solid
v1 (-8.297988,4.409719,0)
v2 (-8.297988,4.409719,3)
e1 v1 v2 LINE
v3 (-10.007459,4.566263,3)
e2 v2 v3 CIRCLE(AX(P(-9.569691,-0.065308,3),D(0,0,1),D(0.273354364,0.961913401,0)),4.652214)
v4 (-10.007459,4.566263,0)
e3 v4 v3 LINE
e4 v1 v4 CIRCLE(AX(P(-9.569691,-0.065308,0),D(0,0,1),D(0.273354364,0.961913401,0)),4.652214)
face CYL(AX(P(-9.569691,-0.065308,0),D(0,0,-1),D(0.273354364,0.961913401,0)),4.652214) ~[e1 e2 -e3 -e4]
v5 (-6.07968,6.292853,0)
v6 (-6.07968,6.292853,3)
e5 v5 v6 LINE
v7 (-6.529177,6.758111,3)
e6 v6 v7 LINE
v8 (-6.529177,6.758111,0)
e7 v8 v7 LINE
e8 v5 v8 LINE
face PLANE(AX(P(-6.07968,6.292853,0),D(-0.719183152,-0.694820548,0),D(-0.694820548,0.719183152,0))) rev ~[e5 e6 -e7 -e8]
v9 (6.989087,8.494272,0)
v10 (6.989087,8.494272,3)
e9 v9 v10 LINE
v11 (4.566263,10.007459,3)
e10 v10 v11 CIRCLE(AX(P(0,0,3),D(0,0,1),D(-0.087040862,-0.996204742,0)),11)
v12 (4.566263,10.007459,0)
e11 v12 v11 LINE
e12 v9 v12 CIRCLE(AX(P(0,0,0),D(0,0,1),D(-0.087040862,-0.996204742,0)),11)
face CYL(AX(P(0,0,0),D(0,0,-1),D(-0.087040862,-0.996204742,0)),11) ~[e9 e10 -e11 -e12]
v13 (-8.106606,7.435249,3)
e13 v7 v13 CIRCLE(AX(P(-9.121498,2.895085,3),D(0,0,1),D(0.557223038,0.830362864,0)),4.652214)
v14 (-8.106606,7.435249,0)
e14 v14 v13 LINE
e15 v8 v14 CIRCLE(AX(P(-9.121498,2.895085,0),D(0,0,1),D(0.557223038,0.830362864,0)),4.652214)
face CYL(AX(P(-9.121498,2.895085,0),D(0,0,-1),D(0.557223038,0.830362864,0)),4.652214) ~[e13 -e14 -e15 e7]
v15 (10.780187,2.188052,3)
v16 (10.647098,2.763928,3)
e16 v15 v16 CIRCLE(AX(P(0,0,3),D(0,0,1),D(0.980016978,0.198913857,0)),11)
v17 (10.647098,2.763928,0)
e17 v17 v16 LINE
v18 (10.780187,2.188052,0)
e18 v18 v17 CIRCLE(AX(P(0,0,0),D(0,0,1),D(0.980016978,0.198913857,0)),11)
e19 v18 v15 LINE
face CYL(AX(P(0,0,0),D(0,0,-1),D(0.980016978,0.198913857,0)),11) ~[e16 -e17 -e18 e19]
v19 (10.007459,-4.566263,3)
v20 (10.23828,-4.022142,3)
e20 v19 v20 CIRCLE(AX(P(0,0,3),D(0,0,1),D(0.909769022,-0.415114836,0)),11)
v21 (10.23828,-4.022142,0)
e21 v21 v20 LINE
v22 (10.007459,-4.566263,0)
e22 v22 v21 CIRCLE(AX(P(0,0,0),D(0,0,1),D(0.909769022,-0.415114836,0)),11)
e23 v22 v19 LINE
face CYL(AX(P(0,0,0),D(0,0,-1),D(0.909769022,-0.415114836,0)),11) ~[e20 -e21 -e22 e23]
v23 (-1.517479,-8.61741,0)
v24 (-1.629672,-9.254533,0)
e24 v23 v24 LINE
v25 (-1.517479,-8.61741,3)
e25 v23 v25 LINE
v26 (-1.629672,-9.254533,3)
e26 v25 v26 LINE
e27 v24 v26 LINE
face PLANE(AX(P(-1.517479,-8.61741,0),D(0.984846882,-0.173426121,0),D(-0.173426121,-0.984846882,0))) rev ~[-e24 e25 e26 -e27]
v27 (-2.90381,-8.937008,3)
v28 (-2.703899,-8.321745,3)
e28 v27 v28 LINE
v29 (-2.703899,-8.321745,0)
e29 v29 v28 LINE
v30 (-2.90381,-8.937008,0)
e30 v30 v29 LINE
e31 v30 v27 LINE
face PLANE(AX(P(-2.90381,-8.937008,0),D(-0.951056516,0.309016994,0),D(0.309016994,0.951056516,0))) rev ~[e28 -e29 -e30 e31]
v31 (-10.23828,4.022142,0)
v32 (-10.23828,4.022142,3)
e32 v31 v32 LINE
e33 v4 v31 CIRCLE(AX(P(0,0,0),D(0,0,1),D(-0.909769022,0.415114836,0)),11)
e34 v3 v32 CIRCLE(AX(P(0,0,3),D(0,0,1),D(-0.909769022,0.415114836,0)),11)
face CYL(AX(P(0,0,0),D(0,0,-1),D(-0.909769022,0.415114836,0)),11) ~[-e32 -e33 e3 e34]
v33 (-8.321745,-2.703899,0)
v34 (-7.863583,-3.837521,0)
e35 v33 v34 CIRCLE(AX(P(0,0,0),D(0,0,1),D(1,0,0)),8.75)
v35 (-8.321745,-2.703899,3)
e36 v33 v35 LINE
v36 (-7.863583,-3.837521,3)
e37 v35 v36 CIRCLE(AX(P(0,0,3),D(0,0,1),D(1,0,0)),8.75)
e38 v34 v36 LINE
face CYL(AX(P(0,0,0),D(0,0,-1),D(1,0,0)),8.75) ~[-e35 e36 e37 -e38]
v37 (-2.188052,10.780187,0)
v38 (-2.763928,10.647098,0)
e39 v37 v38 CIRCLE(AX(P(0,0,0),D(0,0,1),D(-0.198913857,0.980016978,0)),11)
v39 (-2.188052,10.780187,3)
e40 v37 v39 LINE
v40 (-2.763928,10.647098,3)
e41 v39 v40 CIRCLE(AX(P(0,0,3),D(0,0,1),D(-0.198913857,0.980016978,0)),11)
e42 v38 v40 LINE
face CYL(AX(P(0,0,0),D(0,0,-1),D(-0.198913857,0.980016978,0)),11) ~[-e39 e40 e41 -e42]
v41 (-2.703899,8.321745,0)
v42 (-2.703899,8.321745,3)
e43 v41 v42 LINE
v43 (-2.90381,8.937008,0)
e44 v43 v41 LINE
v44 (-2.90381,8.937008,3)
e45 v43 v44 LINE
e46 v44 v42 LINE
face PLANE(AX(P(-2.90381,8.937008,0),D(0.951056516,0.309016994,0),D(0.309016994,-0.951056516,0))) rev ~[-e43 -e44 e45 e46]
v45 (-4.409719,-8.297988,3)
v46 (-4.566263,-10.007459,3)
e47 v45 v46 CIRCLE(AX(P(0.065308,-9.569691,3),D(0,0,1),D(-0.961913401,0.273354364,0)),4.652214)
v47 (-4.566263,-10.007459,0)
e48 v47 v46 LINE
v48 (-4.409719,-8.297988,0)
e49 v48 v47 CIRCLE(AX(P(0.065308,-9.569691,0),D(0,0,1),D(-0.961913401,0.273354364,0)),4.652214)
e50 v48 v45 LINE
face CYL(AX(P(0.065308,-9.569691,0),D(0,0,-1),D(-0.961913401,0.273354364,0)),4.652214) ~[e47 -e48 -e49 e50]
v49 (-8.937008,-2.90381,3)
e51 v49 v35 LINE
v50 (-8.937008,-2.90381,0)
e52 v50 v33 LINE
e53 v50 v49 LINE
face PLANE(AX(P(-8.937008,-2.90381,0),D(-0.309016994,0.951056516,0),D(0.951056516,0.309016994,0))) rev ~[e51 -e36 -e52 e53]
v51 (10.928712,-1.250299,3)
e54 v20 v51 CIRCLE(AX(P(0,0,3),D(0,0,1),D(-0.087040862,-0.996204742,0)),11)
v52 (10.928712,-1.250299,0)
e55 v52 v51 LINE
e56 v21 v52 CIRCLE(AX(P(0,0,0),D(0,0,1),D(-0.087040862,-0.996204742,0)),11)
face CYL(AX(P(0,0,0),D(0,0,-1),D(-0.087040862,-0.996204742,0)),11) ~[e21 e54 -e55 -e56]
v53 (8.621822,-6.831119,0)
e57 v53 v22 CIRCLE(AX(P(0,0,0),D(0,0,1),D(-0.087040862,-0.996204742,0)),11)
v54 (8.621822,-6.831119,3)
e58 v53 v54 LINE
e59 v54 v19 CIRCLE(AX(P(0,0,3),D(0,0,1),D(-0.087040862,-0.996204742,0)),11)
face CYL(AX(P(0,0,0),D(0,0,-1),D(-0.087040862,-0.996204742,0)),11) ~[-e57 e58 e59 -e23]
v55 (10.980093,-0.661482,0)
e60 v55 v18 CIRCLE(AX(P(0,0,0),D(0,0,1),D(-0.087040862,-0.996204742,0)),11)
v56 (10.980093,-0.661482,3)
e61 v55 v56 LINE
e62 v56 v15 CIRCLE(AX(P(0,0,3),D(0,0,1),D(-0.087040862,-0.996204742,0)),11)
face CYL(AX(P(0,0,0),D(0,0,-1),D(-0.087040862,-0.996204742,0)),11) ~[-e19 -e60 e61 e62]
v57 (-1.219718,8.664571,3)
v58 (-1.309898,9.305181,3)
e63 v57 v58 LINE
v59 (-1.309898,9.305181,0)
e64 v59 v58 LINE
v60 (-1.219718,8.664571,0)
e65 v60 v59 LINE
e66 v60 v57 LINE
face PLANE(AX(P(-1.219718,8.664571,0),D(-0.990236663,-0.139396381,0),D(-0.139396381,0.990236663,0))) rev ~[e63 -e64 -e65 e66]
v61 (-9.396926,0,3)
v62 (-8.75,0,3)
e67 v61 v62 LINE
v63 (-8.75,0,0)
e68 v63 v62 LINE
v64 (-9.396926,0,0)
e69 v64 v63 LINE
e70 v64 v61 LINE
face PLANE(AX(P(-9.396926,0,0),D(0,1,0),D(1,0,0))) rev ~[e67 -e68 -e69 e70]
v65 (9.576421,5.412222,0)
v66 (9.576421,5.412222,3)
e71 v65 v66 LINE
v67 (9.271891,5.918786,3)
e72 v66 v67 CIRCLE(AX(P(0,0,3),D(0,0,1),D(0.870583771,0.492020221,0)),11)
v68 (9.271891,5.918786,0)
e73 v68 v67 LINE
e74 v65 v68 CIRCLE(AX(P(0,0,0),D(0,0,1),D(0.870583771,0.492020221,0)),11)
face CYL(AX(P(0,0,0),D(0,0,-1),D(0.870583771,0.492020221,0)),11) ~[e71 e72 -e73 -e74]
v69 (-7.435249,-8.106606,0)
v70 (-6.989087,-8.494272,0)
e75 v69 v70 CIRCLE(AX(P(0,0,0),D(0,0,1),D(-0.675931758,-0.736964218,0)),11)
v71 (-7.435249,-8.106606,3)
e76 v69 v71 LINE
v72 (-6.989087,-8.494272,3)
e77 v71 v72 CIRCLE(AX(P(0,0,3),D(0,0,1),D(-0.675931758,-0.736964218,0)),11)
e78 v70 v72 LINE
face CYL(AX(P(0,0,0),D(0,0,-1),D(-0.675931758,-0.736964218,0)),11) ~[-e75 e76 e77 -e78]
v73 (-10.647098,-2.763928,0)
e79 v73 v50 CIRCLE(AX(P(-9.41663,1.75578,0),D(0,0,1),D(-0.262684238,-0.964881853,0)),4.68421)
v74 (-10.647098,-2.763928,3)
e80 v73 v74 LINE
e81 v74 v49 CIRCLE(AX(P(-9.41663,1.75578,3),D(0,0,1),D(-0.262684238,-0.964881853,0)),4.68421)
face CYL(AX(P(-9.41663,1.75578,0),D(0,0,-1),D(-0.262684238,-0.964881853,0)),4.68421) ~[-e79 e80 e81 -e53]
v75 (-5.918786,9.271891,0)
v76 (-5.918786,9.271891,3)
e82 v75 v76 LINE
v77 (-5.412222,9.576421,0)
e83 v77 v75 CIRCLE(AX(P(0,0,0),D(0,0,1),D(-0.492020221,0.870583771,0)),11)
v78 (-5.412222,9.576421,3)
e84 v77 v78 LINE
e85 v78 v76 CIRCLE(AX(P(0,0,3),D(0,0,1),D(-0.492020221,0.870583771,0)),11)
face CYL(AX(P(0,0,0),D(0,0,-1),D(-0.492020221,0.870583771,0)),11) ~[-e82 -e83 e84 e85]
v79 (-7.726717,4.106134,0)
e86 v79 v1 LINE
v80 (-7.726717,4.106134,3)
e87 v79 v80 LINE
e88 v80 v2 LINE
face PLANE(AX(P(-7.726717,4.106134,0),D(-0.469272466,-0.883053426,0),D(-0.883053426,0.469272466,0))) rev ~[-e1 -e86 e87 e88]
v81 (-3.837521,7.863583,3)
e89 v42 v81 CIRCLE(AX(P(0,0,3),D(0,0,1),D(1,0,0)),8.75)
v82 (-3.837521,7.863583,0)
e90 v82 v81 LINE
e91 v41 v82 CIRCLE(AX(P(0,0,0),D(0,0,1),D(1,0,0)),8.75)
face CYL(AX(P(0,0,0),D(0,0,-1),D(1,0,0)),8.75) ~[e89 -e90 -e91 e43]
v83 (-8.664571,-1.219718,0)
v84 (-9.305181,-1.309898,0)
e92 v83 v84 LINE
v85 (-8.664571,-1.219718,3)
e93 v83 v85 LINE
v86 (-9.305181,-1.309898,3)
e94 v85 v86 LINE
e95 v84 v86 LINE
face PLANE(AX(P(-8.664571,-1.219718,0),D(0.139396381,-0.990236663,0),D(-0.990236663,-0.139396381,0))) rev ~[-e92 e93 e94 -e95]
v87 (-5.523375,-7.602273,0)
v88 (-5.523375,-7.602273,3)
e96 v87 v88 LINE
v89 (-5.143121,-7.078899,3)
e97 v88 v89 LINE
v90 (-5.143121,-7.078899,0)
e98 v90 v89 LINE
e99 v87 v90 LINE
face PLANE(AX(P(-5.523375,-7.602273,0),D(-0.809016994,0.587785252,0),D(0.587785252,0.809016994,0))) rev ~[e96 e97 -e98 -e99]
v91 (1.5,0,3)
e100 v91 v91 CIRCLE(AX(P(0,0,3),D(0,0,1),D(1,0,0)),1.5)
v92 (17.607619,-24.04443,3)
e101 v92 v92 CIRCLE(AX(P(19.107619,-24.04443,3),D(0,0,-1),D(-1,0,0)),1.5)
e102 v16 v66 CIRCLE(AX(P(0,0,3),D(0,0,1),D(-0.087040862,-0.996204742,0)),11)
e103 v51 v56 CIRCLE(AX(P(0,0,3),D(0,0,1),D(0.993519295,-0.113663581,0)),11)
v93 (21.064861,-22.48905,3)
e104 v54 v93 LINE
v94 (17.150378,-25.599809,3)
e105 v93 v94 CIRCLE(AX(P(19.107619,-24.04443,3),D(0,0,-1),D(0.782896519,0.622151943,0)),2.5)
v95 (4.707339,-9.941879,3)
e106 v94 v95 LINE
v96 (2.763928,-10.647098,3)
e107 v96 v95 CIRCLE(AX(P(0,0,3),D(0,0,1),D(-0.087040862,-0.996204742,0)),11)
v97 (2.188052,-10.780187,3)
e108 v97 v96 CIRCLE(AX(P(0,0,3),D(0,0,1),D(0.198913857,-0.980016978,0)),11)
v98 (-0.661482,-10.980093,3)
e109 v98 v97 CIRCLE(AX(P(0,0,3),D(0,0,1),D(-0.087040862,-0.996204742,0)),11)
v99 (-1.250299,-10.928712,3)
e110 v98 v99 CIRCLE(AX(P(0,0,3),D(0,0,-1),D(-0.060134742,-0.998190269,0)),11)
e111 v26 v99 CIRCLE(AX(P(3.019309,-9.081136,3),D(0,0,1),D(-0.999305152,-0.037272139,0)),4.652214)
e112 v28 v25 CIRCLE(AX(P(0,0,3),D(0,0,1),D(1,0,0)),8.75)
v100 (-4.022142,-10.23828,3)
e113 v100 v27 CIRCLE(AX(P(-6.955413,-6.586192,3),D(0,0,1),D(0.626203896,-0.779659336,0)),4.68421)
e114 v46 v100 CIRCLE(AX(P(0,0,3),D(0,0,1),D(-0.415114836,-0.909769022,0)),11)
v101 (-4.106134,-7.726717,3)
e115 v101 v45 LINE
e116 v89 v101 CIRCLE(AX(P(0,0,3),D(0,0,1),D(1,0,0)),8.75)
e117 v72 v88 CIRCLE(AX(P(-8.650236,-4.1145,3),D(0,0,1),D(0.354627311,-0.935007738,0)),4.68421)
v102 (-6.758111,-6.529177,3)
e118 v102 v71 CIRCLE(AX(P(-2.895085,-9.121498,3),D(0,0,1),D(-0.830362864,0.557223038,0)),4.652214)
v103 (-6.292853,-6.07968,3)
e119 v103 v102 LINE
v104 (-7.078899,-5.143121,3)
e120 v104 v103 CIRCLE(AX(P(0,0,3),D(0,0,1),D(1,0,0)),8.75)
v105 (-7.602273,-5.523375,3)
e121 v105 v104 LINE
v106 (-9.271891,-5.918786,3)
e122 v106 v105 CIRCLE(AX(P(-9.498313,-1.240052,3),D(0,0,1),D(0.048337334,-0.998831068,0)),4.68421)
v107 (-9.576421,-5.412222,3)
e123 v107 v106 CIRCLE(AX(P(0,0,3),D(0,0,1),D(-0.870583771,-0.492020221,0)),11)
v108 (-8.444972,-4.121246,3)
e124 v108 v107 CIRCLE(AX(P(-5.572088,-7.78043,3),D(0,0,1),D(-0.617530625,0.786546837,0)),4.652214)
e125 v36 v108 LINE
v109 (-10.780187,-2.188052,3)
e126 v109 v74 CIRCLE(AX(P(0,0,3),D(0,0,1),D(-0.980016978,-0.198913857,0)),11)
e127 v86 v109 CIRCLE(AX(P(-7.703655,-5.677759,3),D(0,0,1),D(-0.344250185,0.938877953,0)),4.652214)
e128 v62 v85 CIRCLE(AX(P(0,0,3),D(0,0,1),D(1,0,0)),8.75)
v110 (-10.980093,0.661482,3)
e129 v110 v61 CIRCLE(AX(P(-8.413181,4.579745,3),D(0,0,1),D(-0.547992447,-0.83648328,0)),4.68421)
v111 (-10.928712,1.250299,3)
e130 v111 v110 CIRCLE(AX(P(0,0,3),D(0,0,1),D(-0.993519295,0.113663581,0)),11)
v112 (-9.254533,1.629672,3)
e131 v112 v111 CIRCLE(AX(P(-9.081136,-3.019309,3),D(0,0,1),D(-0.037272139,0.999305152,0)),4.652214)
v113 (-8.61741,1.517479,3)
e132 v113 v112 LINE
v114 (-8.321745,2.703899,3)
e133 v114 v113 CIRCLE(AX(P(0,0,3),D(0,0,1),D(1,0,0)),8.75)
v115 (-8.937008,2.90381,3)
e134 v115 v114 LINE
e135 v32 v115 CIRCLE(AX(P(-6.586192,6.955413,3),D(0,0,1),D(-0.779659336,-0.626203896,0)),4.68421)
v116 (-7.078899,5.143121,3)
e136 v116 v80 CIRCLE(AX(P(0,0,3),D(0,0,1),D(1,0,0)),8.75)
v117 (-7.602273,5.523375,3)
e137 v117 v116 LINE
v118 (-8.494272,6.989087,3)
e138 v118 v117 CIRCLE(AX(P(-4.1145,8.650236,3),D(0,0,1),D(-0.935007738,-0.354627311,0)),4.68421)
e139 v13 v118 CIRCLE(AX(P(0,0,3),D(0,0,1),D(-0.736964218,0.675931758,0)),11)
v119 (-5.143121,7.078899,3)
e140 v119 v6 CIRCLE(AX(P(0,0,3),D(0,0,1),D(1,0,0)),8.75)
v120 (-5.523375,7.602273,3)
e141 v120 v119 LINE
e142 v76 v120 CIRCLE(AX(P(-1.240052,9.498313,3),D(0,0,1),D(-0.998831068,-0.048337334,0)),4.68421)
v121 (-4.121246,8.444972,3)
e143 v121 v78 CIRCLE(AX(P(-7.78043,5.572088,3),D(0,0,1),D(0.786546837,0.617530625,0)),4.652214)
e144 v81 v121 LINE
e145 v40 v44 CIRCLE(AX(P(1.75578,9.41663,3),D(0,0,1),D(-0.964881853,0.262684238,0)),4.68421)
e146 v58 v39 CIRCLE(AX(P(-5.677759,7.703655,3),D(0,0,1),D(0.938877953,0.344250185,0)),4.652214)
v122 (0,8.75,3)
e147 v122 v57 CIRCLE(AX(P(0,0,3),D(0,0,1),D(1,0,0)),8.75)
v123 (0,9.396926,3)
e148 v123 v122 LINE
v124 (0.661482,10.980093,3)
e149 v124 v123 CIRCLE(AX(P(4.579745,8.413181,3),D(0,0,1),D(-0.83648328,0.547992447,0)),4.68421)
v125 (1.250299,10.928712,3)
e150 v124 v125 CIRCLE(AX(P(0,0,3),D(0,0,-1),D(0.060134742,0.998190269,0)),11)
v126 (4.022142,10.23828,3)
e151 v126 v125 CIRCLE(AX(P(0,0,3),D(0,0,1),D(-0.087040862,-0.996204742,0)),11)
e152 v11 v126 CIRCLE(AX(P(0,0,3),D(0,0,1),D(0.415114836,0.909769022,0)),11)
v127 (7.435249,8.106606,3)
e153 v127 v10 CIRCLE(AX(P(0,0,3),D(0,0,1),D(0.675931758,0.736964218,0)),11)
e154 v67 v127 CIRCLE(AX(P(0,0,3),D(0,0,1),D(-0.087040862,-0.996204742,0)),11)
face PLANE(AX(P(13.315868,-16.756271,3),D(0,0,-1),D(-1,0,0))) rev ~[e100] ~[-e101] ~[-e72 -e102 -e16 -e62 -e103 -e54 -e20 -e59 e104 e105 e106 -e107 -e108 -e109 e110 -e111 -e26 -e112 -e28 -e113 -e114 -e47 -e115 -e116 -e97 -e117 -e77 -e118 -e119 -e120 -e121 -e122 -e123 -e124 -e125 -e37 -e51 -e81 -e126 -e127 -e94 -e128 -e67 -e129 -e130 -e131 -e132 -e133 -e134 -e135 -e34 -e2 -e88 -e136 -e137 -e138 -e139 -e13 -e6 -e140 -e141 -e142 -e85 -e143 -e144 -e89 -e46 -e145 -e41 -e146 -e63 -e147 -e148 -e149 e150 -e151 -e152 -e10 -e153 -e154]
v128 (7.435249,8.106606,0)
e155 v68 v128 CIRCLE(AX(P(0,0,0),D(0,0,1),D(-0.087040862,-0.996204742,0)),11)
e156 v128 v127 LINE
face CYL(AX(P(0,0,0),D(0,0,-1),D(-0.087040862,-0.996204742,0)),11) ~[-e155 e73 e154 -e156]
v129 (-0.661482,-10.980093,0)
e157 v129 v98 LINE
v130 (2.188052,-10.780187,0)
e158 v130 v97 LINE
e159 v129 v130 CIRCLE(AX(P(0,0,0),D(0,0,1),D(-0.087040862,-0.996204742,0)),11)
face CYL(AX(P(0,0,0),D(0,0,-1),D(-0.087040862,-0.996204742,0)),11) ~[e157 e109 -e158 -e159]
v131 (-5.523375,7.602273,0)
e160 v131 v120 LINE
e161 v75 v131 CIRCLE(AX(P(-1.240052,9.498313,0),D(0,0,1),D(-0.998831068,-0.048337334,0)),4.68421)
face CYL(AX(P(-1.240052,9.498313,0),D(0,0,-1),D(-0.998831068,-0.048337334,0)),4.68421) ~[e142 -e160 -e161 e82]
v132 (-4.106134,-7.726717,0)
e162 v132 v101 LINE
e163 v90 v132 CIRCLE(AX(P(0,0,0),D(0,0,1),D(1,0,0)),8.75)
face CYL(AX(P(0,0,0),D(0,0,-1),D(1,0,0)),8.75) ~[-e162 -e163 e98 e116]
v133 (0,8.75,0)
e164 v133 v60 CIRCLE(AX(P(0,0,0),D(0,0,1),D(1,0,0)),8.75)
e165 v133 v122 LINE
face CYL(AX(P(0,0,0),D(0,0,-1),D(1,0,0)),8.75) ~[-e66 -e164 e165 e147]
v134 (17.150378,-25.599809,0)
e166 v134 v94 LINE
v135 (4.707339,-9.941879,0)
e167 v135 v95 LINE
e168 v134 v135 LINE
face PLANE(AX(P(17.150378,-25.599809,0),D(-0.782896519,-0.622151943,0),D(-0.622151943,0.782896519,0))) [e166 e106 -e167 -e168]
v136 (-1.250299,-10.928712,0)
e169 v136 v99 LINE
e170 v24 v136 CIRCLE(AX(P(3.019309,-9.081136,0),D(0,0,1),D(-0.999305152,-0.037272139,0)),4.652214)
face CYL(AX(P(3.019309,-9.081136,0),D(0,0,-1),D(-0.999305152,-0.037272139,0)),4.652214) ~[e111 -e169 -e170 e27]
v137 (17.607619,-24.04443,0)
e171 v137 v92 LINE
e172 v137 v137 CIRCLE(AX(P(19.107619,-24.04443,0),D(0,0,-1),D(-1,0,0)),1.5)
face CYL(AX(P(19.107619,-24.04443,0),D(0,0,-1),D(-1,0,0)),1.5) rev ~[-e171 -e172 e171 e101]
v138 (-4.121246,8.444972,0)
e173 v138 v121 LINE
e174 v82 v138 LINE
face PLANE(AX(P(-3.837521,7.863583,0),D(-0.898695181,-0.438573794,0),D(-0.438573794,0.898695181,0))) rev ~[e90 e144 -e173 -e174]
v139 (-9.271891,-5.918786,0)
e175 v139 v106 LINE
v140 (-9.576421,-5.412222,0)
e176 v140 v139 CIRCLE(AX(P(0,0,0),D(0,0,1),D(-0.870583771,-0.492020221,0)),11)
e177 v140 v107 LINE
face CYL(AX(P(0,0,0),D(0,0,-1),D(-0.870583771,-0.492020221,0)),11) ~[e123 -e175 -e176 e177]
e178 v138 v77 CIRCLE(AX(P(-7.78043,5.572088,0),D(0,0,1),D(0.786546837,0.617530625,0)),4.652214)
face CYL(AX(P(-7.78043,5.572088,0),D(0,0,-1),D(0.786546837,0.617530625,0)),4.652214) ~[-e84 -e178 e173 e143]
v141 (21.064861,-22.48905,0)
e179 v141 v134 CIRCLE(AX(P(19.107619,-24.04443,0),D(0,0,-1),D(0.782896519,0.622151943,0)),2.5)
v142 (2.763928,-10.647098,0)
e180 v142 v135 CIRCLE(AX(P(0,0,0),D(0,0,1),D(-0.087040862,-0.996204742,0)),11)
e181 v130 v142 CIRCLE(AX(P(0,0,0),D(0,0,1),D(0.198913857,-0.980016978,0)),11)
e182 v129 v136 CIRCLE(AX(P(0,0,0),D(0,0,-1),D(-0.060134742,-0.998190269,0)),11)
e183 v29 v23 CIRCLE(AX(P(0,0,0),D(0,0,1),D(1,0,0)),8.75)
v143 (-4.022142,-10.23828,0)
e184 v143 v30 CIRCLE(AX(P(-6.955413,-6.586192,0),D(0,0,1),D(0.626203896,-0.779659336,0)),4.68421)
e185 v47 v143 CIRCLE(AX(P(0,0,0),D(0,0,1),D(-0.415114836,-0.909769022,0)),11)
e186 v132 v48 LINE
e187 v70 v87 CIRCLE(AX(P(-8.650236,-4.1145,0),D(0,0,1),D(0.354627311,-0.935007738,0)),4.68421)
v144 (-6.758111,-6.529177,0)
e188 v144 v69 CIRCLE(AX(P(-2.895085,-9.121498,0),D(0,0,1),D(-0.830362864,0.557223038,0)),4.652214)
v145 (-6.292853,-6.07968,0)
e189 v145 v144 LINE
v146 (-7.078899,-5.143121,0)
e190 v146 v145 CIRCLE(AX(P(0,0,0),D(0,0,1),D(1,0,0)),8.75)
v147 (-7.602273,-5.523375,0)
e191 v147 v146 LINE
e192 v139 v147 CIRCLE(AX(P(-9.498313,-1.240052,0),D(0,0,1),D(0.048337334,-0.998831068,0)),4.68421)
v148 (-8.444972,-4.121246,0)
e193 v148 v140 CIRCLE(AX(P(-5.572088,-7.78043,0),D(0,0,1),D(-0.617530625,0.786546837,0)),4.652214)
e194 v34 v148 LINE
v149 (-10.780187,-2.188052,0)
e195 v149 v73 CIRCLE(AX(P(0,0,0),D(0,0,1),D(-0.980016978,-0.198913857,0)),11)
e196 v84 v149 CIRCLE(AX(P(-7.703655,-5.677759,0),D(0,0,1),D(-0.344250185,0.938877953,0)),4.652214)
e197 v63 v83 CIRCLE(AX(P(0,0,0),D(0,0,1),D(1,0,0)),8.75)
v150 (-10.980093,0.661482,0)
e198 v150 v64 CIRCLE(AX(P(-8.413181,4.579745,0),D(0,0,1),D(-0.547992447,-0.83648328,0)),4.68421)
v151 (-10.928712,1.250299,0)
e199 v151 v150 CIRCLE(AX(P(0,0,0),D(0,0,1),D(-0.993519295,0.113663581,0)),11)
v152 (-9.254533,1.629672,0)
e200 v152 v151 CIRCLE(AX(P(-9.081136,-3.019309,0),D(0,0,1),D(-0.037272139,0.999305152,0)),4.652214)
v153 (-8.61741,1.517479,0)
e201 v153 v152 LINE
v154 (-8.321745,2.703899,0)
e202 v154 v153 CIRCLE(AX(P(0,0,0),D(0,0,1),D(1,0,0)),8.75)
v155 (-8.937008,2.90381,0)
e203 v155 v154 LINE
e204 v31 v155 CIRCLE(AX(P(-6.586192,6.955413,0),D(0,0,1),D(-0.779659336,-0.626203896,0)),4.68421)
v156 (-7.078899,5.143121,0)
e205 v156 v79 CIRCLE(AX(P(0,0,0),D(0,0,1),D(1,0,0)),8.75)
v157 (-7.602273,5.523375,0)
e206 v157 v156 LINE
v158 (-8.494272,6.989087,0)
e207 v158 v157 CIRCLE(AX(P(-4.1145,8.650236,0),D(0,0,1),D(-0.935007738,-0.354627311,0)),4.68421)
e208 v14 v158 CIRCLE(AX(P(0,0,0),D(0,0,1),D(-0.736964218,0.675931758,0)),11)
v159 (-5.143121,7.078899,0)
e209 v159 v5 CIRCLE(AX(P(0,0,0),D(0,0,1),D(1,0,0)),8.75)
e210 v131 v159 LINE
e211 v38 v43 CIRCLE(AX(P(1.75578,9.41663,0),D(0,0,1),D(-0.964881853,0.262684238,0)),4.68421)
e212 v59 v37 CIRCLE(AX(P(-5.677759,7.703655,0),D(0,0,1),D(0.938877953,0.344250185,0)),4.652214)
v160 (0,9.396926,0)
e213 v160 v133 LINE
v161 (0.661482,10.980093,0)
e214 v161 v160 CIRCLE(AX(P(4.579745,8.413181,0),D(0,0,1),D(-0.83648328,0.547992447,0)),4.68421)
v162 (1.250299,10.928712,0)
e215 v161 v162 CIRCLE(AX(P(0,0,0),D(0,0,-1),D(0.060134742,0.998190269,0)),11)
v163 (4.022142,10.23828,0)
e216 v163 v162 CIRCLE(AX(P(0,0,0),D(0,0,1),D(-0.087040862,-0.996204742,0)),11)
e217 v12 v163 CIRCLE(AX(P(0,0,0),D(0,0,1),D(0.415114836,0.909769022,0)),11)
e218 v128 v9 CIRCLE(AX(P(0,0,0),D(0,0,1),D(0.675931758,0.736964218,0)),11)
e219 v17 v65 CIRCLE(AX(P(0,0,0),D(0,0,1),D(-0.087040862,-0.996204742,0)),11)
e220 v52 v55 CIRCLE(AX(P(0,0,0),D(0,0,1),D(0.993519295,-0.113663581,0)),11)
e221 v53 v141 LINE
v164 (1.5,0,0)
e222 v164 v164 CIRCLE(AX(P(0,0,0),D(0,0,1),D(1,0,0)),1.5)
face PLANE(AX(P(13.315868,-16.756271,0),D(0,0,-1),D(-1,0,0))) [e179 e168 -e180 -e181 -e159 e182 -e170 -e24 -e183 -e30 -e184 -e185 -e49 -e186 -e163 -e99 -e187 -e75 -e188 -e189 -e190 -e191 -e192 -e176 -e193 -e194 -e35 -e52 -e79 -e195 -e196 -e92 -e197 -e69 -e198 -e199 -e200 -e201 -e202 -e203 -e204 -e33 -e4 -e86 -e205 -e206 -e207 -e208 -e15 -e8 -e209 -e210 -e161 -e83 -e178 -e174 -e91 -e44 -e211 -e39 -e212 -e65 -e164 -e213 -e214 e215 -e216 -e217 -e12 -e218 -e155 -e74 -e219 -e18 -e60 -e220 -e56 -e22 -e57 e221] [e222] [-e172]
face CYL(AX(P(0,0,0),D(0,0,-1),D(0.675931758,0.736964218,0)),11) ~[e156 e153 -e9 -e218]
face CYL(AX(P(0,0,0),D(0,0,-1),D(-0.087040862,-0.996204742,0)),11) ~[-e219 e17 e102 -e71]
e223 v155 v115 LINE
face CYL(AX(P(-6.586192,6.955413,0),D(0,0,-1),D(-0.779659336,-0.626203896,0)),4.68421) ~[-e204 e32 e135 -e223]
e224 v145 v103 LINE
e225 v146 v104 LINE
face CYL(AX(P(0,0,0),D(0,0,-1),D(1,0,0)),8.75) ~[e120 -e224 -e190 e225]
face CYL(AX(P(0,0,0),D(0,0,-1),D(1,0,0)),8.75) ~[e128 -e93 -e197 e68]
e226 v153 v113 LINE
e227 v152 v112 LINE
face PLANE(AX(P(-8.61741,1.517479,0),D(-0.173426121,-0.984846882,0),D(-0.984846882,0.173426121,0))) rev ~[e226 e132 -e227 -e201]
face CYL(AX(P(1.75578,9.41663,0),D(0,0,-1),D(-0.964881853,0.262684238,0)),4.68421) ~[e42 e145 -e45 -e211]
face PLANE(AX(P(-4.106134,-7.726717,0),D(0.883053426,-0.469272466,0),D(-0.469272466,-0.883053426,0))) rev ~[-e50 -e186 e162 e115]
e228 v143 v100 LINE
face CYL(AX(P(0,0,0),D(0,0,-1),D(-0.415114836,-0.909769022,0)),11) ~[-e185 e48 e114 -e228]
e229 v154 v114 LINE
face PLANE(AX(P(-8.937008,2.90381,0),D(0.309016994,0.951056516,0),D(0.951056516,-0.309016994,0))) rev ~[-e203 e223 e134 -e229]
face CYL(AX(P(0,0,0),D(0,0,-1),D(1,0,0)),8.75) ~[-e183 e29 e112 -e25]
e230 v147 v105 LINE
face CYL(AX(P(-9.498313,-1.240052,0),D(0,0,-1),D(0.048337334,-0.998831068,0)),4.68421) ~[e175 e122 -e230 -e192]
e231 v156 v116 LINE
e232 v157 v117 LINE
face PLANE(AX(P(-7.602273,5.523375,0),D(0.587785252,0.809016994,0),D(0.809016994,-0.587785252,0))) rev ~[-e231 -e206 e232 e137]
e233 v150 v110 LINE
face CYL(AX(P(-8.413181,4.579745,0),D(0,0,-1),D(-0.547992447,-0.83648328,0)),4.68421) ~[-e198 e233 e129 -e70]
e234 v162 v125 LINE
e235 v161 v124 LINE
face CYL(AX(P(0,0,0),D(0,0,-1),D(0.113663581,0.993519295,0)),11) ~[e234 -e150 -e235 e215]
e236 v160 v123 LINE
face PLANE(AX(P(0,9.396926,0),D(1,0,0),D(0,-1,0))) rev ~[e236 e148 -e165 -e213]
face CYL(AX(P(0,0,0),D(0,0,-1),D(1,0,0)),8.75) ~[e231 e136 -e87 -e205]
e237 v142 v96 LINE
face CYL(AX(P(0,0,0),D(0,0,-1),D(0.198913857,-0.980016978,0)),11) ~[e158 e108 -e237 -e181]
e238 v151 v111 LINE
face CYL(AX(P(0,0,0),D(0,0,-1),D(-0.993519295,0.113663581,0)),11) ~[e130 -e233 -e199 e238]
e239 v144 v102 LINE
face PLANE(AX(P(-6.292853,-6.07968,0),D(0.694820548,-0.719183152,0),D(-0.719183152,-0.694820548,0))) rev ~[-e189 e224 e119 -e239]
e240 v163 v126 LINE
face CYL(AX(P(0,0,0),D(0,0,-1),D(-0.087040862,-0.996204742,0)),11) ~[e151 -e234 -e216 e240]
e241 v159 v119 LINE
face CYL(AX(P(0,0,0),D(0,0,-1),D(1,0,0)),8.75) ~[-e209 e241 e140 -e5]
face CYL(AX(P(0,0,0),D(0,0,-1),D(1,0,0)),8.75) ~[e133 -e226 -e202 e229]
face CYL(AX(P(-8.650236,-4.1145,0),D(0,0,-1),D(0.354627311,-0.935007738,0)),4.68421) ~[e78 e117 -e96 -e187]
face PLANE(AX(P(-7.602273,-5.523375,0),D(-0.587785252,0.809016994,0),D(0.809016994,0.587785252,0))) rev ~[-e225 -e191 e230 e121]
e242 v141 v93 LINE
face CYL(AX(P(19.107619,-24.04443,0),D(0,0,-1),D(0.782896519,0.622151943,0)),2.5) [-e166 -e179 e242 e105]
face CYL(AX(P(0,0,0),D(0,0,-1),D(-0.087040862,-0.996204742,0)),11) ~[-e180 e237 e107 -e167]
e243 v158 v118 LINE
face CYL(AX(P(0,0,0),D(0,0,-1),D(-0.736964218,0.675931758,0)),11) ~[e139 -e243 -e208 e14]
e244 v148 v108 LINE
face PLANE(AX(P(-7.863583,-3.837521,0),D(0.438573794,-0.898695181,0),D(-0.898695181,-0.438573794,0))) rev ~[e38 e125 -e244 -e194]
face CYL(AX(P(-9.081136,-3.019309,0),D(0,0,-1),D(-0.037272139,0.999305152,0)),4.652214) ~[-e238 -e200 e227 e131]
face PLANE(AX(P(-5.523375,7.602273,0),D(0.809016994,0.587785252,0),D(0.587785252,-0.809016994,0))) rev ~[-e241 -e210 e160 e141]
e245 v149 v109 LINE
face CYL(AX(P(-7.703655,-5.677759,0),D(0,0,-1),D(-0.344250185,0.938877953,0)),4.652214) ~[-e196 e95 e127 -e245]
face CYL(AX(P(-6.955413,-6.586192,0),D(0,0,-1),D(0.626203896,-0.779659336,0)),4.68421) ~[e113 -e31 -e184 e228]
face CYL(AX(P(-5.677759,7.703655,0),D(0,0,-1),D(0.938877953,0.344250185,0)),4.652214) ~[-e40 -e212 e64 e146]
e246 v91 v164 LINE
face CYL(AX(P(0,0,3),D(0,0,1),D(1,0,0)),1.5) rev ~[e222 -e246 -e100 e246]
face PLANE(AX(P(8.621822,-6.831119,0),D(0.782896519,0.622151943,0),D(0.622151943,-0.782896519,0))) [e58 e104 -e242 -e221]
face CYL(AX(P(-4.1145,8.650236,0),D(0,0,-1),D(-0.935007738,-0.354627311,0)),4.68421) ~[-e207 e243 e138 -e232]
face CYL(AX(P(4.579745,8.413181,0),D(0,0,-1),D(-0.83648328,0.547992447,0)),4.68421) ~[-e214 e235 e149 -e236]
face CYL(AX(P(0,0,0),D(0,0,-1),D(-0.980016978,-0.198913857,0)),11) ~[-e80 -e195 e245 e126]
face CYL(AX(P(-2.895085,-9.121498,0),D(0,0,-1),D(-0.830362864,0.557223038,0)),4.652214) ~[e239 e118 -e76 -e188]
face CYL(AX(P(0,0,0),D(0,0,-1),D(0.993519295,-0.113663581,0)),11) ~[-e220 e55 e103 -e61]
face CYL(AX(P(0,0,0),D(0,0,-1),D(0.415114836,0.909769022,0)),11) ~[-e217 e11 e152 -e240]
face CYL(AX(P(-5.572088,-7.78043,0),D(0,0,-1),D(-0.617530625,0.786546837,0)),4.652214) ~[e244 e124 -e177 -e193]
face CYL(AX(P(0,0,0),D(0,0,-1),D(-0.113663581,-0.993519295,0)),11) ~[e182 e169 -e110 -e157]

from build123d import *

# Parameters (mm, degrees)
EXTRUSION_DENTS_DEPTH        = 3
R_P_TITION_CIRCULAIRE2_COUNT = 20
ESQUISSE1_R                  = 8.75
EXTRUSION_DISQUE_DEPTH       = 3
BOSS_EXTRU_1_DEPTH           = 3
ESQUISSE6_R                  = 1.5
BOSS_EXTRU_2_DEPTH           = 3
ESQUISSE3_R                  = 1.5
ENL_V_MAT_EXTRU_1_DEPTH      = 35.358346143


with BuildPart() as part:
    # Esquisse2 → Extrusion dents (new body)
    with BuildSketch(Plane.XY):
        with BuildLine():
            Line((0, 9.396926208), (0, 8.75))
            ThreePointArc((0, 8.75), (0.761630034, 8.716789529), (1.517478561, 8.617410215))
            Line((1.517478561, 8.617410215), (1.629672464, 9.254533474))
            ThreePointArc((1.629672464, 9.254533474), (1.517874028, 10.109272502), (1.250299377, 10.928712251))
            ThreePointArc((1.250299377, 10.928712251), (0.956235935, 10.958358127), (0.661482168, 10.980092957))
            ThreePointArc((0.661482168, 10.980092957), (0.25763458, 10.219055101), (0, 9.396926208))
        make_face()
    extrude(amount=EXTRUSION_DENTS_DEPTH)


with BuildPart() as r_p_tition_circulaire2_1:
    # Répétition circulaire2: pattern copy
    add(part.part.rotate(Axis((0, 0, 0), (0, 0, 1)), 1 * 360 / R_P_TITION_CIRCULAIRE2_COUNT))


with BuildPart() as r_p_tition_circulaire2_2:
    # Répétition circulaire2: pattern copy
    add(part.part.rotate(Axis((0, 0, 0), (0, 0, 1)), 2 * 360 / R_P_TITION_CIRCULAIRE2_COUNT))


with BuildPart() as r_p_tition_circulaire2_3:
    # Répétition circulaire2: pattern copy
    add(part.part.rotate(Axis((0, 0, 0), (0, 0, 1)), 3 * 360 / R_P_TITION_CIRCULAIRE2_COUNT))


with BuildPart() as r_p_tition_circulaire2_4:
    # Répétition circulaire2: pattern copy
    add(part.part.rotate(Axis((0, 0, 0), (0, 0, 1)), 4 * 360 / R_P_TITION_CIRCULAIRE2_COUNT))


with BuildPart() as r_p_tition_circulaire2_5:
    # Répétition circulaire2: pattern copy
    add(part.part.rotate(Axis((0, 0, 0), (0, 0, 1)), 5 * 360 / R_P_TITION_CIRCULAIRE2_COUNT))


with BuildPart() as r_p_tition_circulaire2_6:
    # Répétition circulaire2: pattern copy
    add(part.part.rotate(Axis((0, 0, 0), (0, 0, 1)), 6 * 360 / R_P_TITION_CIRCULAIRE2_COUNT))


with BuildPart() as r_p_tition_circulaire2_7:
    # Répétition circulaire2: pattern copy
    add(part.part.rotate(Axis((0, 0, 0), (0, 0, 1)), 7 * 360 / R_P_TITION_CIRCULAIRE2_COUNT))


with BuildPart() as r_p_tition_circulaire2_8:
    # Répétition circulaire2: pattern copy
    add(part.part.rotate(Axis((0, 0, 0), (0, 0, 1)), 8 * 360 / R_P_TITION_CIRCULAIRE2_COUNT))


with BuildPart() as r_p_tition_circulaire2_9:
    # Répétition circulaire2: pattern copy
    add(part.part.rotate(Axis((0, 0, 0), (0, 0, 1)), 9 * 360 / R_P_TITION_CIRCULAIRE2_COUNT))


with BuildPart() as r_p_tition_circulaire2_10:
    # Répétition circulaire2: pattern copy
    add(part.part.rotate(Axis((0, 0, 0), (0, 0, 1)), 10 * 360 / R_P_TITION_CIRCULAIRE2_COUNT))


with BuildPart() as r_p_tition_circulaire2_11:
    # Répétition circulaire2: pattern copy
    add(part.part.rotate(Axis((0, 0, 0), (0, 0, 1)), 11 * 360 / R_P_TITION_CIRCULAIRE2_COUNT))


with BuildPart() as r_p_tition_circulaire2_12:
    # Répétition circulaire2: pattern copy
    add(part.part.rotate(Axis((0, 0, 0), (0, 0, 1)), 12 * 360 / R_P_TITION_CIRCULAIRE2_COUNT))


with BuildPart() as r_p_tition_circulaire2_13:
    # Répétition circulaire2: pattern copy
    add(part.part.rotate(Axis((0, 0, 0), (0, 0, 1)), 13 * 360 / R_P_TITION_CIRCULAIRE2_COUNT))


with BuildPart() as r_p_tition_circulaire2_14:
    # Répétition circulaire2: pattern copy
    add(part.part.rotate(Axis((0, 0, 0), (0, 0, 1)), 14 * 360 / R_P_TITION_CIRCULAIRE2_COUNT))


with BuildPart() as r_p_tition_circulaire2_15:
    # Répétition circulaire2: pattern copy
    add(part.part.rotate(Axis((0, 0, 0), (0, 0, 1)), 15 * 360 / R_P_TITION_CIRCULAIRE2_COUNT))


with BuildPart() as r_p_tition_circulaire2_16:
    # Répétition circulaire2: pattern copy
    add(part.part.rotate(Axis((0, 0, 0), (0, 0, 1)), 16 * 360 / R_P_TITION_CIRCULAIRE2_COUNT))


with BuildPart() as r_p_tition_circulaire2_17:
    # Répétition circulaire2: pattern copy
    add(part.part.rotate(Axis((0, 0, 0), (0, 0, 1)), 17 * 360 / R_P_TITION_CIRCULAIRE2_COUNT))


with BuildPart() as r_p_tition_circulaire2_18:
    # Répétition circulaire2: pattern copy
    add(part.part.rotate(Axis((0, 0, 0), (0, 0, 1)), 18 * 360 / R_P_TITION_CIRCULAIRE2_COUNT))


with BuildPart() as r_p_tition_circulaire2_19:
    # Répétition circulaire2: pattern copy
    add(part.part.rotate(Axis((0, 0, 0), (0, 0, 1)), 19 * 360 / R_P_TITION_CIRCULAIRE2_COUNT))


with BuildPart() as part_1:
    add(part.part)

    add(r_p_tition_circulaire2_1.part)  # Extrusion disque merges Répétition circulaire2_1

    add(r_p_tition_circulaire2_2.part)  # Extrusion disque merges Répétition circulaire2_2

    add(r_p_tition_circulaire2_3.part)  # Extrusion disque merges Répétition circulaire2_3

    add(r_p_tition_circulaire2_4.part)  # Extrusion disque merges Répétition circulaire2_4

    add(r_p_tition_circulaire2_5.part)  # Extrusion disque merges Répétition circulaire2_5

    add(r_p_tition_circulaire2_6.part)  # Extrusion disque merges Répétition circulaire2_6

    add(r_p_tition_circulaire2_7.part)  # Extrusion disque merges Répétition circulaire2_7

    add(r_p_tition_circulaire2_8.part)  # Extrusion disque merges Répétition circulaire2_8

    add(r_p_tition_circulaire2_9.part)  # Extrusion disque merges Répétition circulaire2_9

    add(r_p_tition_circulaire2_10.part)  # Extrusion disque merges Répétition circulaire2_10

    add(r_p_tition_circulaire2_11.part)  # Extrusion disque merges Répétition circulaire2_11

    add(r_p_tition_circulaire2_12.part)  # Extrusion disque merges Répétition circulaire2_12

    add(r_p_tition_circulaire2_13.part)  # Extrusion disque merges Répétition circulaire2_13

    add(r_p_tition_circulaire2_14.part)  # Extrusion disque merges Répétition circulaire2_14

    add(r_p_tition_circulaire2_15.part)  # Extrusion disque merges Répétition circulaire2_15

    add(r_p_tition_circulaire2_16.part)  # Extrusion disque merges Répétition circulaire2_16

    add(r_p_tition_circulaire2_17.part)  # Extrusion disque merges Répétition circulaire2_17

    add(r_p_tition_circulaire2_18.part)  # Extrusion disque merges Répétition circulaire2_18

    add(r_p_tition_circulaire2_19.part)  # Extrusion disque merges Répétition circulaire2_19
    # Esquisse1 → Extrusion disque (add)
    with BuildSketch(Plane.XY):
        Circle(ESQUISSE1_R)
    extrude(amount=EXTRUSION_DISQUE_DEPTH)

    # Esquisse5 → Boss.-Extru.1 (add)
    with BuildSketch(Plane(origin=(0, 0, 0), x_dir=(-1, 0, 0), z_dir=(0, 0, -1))):
        with BuildLine():
            Line((-0.957126431, 10.958280385), (0.957449481, -10.958252164))
            ThreePointArc((0.957449481, -10.958252164), (-10.958266276, -0.957287956), (-0.957126431, 10.958280385))
        make_face()
    extrude(amount=-BOSS_EXTRU_1_DEPTH)

    # Esquisse6 → Boss.-Extru.2 (add)
    with BuildSketch(Plane(origin=(0, 0, 0), x_dir=(-1, 0, 0), z_dir=(0, 0, -1))):
        with BuildLine():
            Line((-8.621821658, -6.83111933), (-21.064860521, -22.489049712))
            ThreePointArc((-21.064860521, -22.489049712), (-20.662999081, -26.001670868), (-17.150377925, -25.599809428))
            Line((-17.150377925, -25.599809428), (-4.707339063, -9.941879045))
            ThreePointArc((-4.707339063, -9.941879045), (-6.843671374, -8.61186171), (-8.621821658, -6.83111933))
        make_face()
        with Locations((-19.107619223, -24.04442957)):
            Circle(ESQUISSE6_R, mode=Mode.SUBTRACT)
    extrude(amount=-BOSS_EXTRU_2_DEPTH)

    # Esquisse3 → Enlèv. mat.-Extru.1 (cut, through all)
    with BuildSketch(Plane.XY.offset(3)):
        Circle(ESQUISSE3_R)
    extrude(amount=-ENL_V_MAT_EXTRU_1_DEPTH, mode=Mode.SUBTRACT)


solid = part_1.part
